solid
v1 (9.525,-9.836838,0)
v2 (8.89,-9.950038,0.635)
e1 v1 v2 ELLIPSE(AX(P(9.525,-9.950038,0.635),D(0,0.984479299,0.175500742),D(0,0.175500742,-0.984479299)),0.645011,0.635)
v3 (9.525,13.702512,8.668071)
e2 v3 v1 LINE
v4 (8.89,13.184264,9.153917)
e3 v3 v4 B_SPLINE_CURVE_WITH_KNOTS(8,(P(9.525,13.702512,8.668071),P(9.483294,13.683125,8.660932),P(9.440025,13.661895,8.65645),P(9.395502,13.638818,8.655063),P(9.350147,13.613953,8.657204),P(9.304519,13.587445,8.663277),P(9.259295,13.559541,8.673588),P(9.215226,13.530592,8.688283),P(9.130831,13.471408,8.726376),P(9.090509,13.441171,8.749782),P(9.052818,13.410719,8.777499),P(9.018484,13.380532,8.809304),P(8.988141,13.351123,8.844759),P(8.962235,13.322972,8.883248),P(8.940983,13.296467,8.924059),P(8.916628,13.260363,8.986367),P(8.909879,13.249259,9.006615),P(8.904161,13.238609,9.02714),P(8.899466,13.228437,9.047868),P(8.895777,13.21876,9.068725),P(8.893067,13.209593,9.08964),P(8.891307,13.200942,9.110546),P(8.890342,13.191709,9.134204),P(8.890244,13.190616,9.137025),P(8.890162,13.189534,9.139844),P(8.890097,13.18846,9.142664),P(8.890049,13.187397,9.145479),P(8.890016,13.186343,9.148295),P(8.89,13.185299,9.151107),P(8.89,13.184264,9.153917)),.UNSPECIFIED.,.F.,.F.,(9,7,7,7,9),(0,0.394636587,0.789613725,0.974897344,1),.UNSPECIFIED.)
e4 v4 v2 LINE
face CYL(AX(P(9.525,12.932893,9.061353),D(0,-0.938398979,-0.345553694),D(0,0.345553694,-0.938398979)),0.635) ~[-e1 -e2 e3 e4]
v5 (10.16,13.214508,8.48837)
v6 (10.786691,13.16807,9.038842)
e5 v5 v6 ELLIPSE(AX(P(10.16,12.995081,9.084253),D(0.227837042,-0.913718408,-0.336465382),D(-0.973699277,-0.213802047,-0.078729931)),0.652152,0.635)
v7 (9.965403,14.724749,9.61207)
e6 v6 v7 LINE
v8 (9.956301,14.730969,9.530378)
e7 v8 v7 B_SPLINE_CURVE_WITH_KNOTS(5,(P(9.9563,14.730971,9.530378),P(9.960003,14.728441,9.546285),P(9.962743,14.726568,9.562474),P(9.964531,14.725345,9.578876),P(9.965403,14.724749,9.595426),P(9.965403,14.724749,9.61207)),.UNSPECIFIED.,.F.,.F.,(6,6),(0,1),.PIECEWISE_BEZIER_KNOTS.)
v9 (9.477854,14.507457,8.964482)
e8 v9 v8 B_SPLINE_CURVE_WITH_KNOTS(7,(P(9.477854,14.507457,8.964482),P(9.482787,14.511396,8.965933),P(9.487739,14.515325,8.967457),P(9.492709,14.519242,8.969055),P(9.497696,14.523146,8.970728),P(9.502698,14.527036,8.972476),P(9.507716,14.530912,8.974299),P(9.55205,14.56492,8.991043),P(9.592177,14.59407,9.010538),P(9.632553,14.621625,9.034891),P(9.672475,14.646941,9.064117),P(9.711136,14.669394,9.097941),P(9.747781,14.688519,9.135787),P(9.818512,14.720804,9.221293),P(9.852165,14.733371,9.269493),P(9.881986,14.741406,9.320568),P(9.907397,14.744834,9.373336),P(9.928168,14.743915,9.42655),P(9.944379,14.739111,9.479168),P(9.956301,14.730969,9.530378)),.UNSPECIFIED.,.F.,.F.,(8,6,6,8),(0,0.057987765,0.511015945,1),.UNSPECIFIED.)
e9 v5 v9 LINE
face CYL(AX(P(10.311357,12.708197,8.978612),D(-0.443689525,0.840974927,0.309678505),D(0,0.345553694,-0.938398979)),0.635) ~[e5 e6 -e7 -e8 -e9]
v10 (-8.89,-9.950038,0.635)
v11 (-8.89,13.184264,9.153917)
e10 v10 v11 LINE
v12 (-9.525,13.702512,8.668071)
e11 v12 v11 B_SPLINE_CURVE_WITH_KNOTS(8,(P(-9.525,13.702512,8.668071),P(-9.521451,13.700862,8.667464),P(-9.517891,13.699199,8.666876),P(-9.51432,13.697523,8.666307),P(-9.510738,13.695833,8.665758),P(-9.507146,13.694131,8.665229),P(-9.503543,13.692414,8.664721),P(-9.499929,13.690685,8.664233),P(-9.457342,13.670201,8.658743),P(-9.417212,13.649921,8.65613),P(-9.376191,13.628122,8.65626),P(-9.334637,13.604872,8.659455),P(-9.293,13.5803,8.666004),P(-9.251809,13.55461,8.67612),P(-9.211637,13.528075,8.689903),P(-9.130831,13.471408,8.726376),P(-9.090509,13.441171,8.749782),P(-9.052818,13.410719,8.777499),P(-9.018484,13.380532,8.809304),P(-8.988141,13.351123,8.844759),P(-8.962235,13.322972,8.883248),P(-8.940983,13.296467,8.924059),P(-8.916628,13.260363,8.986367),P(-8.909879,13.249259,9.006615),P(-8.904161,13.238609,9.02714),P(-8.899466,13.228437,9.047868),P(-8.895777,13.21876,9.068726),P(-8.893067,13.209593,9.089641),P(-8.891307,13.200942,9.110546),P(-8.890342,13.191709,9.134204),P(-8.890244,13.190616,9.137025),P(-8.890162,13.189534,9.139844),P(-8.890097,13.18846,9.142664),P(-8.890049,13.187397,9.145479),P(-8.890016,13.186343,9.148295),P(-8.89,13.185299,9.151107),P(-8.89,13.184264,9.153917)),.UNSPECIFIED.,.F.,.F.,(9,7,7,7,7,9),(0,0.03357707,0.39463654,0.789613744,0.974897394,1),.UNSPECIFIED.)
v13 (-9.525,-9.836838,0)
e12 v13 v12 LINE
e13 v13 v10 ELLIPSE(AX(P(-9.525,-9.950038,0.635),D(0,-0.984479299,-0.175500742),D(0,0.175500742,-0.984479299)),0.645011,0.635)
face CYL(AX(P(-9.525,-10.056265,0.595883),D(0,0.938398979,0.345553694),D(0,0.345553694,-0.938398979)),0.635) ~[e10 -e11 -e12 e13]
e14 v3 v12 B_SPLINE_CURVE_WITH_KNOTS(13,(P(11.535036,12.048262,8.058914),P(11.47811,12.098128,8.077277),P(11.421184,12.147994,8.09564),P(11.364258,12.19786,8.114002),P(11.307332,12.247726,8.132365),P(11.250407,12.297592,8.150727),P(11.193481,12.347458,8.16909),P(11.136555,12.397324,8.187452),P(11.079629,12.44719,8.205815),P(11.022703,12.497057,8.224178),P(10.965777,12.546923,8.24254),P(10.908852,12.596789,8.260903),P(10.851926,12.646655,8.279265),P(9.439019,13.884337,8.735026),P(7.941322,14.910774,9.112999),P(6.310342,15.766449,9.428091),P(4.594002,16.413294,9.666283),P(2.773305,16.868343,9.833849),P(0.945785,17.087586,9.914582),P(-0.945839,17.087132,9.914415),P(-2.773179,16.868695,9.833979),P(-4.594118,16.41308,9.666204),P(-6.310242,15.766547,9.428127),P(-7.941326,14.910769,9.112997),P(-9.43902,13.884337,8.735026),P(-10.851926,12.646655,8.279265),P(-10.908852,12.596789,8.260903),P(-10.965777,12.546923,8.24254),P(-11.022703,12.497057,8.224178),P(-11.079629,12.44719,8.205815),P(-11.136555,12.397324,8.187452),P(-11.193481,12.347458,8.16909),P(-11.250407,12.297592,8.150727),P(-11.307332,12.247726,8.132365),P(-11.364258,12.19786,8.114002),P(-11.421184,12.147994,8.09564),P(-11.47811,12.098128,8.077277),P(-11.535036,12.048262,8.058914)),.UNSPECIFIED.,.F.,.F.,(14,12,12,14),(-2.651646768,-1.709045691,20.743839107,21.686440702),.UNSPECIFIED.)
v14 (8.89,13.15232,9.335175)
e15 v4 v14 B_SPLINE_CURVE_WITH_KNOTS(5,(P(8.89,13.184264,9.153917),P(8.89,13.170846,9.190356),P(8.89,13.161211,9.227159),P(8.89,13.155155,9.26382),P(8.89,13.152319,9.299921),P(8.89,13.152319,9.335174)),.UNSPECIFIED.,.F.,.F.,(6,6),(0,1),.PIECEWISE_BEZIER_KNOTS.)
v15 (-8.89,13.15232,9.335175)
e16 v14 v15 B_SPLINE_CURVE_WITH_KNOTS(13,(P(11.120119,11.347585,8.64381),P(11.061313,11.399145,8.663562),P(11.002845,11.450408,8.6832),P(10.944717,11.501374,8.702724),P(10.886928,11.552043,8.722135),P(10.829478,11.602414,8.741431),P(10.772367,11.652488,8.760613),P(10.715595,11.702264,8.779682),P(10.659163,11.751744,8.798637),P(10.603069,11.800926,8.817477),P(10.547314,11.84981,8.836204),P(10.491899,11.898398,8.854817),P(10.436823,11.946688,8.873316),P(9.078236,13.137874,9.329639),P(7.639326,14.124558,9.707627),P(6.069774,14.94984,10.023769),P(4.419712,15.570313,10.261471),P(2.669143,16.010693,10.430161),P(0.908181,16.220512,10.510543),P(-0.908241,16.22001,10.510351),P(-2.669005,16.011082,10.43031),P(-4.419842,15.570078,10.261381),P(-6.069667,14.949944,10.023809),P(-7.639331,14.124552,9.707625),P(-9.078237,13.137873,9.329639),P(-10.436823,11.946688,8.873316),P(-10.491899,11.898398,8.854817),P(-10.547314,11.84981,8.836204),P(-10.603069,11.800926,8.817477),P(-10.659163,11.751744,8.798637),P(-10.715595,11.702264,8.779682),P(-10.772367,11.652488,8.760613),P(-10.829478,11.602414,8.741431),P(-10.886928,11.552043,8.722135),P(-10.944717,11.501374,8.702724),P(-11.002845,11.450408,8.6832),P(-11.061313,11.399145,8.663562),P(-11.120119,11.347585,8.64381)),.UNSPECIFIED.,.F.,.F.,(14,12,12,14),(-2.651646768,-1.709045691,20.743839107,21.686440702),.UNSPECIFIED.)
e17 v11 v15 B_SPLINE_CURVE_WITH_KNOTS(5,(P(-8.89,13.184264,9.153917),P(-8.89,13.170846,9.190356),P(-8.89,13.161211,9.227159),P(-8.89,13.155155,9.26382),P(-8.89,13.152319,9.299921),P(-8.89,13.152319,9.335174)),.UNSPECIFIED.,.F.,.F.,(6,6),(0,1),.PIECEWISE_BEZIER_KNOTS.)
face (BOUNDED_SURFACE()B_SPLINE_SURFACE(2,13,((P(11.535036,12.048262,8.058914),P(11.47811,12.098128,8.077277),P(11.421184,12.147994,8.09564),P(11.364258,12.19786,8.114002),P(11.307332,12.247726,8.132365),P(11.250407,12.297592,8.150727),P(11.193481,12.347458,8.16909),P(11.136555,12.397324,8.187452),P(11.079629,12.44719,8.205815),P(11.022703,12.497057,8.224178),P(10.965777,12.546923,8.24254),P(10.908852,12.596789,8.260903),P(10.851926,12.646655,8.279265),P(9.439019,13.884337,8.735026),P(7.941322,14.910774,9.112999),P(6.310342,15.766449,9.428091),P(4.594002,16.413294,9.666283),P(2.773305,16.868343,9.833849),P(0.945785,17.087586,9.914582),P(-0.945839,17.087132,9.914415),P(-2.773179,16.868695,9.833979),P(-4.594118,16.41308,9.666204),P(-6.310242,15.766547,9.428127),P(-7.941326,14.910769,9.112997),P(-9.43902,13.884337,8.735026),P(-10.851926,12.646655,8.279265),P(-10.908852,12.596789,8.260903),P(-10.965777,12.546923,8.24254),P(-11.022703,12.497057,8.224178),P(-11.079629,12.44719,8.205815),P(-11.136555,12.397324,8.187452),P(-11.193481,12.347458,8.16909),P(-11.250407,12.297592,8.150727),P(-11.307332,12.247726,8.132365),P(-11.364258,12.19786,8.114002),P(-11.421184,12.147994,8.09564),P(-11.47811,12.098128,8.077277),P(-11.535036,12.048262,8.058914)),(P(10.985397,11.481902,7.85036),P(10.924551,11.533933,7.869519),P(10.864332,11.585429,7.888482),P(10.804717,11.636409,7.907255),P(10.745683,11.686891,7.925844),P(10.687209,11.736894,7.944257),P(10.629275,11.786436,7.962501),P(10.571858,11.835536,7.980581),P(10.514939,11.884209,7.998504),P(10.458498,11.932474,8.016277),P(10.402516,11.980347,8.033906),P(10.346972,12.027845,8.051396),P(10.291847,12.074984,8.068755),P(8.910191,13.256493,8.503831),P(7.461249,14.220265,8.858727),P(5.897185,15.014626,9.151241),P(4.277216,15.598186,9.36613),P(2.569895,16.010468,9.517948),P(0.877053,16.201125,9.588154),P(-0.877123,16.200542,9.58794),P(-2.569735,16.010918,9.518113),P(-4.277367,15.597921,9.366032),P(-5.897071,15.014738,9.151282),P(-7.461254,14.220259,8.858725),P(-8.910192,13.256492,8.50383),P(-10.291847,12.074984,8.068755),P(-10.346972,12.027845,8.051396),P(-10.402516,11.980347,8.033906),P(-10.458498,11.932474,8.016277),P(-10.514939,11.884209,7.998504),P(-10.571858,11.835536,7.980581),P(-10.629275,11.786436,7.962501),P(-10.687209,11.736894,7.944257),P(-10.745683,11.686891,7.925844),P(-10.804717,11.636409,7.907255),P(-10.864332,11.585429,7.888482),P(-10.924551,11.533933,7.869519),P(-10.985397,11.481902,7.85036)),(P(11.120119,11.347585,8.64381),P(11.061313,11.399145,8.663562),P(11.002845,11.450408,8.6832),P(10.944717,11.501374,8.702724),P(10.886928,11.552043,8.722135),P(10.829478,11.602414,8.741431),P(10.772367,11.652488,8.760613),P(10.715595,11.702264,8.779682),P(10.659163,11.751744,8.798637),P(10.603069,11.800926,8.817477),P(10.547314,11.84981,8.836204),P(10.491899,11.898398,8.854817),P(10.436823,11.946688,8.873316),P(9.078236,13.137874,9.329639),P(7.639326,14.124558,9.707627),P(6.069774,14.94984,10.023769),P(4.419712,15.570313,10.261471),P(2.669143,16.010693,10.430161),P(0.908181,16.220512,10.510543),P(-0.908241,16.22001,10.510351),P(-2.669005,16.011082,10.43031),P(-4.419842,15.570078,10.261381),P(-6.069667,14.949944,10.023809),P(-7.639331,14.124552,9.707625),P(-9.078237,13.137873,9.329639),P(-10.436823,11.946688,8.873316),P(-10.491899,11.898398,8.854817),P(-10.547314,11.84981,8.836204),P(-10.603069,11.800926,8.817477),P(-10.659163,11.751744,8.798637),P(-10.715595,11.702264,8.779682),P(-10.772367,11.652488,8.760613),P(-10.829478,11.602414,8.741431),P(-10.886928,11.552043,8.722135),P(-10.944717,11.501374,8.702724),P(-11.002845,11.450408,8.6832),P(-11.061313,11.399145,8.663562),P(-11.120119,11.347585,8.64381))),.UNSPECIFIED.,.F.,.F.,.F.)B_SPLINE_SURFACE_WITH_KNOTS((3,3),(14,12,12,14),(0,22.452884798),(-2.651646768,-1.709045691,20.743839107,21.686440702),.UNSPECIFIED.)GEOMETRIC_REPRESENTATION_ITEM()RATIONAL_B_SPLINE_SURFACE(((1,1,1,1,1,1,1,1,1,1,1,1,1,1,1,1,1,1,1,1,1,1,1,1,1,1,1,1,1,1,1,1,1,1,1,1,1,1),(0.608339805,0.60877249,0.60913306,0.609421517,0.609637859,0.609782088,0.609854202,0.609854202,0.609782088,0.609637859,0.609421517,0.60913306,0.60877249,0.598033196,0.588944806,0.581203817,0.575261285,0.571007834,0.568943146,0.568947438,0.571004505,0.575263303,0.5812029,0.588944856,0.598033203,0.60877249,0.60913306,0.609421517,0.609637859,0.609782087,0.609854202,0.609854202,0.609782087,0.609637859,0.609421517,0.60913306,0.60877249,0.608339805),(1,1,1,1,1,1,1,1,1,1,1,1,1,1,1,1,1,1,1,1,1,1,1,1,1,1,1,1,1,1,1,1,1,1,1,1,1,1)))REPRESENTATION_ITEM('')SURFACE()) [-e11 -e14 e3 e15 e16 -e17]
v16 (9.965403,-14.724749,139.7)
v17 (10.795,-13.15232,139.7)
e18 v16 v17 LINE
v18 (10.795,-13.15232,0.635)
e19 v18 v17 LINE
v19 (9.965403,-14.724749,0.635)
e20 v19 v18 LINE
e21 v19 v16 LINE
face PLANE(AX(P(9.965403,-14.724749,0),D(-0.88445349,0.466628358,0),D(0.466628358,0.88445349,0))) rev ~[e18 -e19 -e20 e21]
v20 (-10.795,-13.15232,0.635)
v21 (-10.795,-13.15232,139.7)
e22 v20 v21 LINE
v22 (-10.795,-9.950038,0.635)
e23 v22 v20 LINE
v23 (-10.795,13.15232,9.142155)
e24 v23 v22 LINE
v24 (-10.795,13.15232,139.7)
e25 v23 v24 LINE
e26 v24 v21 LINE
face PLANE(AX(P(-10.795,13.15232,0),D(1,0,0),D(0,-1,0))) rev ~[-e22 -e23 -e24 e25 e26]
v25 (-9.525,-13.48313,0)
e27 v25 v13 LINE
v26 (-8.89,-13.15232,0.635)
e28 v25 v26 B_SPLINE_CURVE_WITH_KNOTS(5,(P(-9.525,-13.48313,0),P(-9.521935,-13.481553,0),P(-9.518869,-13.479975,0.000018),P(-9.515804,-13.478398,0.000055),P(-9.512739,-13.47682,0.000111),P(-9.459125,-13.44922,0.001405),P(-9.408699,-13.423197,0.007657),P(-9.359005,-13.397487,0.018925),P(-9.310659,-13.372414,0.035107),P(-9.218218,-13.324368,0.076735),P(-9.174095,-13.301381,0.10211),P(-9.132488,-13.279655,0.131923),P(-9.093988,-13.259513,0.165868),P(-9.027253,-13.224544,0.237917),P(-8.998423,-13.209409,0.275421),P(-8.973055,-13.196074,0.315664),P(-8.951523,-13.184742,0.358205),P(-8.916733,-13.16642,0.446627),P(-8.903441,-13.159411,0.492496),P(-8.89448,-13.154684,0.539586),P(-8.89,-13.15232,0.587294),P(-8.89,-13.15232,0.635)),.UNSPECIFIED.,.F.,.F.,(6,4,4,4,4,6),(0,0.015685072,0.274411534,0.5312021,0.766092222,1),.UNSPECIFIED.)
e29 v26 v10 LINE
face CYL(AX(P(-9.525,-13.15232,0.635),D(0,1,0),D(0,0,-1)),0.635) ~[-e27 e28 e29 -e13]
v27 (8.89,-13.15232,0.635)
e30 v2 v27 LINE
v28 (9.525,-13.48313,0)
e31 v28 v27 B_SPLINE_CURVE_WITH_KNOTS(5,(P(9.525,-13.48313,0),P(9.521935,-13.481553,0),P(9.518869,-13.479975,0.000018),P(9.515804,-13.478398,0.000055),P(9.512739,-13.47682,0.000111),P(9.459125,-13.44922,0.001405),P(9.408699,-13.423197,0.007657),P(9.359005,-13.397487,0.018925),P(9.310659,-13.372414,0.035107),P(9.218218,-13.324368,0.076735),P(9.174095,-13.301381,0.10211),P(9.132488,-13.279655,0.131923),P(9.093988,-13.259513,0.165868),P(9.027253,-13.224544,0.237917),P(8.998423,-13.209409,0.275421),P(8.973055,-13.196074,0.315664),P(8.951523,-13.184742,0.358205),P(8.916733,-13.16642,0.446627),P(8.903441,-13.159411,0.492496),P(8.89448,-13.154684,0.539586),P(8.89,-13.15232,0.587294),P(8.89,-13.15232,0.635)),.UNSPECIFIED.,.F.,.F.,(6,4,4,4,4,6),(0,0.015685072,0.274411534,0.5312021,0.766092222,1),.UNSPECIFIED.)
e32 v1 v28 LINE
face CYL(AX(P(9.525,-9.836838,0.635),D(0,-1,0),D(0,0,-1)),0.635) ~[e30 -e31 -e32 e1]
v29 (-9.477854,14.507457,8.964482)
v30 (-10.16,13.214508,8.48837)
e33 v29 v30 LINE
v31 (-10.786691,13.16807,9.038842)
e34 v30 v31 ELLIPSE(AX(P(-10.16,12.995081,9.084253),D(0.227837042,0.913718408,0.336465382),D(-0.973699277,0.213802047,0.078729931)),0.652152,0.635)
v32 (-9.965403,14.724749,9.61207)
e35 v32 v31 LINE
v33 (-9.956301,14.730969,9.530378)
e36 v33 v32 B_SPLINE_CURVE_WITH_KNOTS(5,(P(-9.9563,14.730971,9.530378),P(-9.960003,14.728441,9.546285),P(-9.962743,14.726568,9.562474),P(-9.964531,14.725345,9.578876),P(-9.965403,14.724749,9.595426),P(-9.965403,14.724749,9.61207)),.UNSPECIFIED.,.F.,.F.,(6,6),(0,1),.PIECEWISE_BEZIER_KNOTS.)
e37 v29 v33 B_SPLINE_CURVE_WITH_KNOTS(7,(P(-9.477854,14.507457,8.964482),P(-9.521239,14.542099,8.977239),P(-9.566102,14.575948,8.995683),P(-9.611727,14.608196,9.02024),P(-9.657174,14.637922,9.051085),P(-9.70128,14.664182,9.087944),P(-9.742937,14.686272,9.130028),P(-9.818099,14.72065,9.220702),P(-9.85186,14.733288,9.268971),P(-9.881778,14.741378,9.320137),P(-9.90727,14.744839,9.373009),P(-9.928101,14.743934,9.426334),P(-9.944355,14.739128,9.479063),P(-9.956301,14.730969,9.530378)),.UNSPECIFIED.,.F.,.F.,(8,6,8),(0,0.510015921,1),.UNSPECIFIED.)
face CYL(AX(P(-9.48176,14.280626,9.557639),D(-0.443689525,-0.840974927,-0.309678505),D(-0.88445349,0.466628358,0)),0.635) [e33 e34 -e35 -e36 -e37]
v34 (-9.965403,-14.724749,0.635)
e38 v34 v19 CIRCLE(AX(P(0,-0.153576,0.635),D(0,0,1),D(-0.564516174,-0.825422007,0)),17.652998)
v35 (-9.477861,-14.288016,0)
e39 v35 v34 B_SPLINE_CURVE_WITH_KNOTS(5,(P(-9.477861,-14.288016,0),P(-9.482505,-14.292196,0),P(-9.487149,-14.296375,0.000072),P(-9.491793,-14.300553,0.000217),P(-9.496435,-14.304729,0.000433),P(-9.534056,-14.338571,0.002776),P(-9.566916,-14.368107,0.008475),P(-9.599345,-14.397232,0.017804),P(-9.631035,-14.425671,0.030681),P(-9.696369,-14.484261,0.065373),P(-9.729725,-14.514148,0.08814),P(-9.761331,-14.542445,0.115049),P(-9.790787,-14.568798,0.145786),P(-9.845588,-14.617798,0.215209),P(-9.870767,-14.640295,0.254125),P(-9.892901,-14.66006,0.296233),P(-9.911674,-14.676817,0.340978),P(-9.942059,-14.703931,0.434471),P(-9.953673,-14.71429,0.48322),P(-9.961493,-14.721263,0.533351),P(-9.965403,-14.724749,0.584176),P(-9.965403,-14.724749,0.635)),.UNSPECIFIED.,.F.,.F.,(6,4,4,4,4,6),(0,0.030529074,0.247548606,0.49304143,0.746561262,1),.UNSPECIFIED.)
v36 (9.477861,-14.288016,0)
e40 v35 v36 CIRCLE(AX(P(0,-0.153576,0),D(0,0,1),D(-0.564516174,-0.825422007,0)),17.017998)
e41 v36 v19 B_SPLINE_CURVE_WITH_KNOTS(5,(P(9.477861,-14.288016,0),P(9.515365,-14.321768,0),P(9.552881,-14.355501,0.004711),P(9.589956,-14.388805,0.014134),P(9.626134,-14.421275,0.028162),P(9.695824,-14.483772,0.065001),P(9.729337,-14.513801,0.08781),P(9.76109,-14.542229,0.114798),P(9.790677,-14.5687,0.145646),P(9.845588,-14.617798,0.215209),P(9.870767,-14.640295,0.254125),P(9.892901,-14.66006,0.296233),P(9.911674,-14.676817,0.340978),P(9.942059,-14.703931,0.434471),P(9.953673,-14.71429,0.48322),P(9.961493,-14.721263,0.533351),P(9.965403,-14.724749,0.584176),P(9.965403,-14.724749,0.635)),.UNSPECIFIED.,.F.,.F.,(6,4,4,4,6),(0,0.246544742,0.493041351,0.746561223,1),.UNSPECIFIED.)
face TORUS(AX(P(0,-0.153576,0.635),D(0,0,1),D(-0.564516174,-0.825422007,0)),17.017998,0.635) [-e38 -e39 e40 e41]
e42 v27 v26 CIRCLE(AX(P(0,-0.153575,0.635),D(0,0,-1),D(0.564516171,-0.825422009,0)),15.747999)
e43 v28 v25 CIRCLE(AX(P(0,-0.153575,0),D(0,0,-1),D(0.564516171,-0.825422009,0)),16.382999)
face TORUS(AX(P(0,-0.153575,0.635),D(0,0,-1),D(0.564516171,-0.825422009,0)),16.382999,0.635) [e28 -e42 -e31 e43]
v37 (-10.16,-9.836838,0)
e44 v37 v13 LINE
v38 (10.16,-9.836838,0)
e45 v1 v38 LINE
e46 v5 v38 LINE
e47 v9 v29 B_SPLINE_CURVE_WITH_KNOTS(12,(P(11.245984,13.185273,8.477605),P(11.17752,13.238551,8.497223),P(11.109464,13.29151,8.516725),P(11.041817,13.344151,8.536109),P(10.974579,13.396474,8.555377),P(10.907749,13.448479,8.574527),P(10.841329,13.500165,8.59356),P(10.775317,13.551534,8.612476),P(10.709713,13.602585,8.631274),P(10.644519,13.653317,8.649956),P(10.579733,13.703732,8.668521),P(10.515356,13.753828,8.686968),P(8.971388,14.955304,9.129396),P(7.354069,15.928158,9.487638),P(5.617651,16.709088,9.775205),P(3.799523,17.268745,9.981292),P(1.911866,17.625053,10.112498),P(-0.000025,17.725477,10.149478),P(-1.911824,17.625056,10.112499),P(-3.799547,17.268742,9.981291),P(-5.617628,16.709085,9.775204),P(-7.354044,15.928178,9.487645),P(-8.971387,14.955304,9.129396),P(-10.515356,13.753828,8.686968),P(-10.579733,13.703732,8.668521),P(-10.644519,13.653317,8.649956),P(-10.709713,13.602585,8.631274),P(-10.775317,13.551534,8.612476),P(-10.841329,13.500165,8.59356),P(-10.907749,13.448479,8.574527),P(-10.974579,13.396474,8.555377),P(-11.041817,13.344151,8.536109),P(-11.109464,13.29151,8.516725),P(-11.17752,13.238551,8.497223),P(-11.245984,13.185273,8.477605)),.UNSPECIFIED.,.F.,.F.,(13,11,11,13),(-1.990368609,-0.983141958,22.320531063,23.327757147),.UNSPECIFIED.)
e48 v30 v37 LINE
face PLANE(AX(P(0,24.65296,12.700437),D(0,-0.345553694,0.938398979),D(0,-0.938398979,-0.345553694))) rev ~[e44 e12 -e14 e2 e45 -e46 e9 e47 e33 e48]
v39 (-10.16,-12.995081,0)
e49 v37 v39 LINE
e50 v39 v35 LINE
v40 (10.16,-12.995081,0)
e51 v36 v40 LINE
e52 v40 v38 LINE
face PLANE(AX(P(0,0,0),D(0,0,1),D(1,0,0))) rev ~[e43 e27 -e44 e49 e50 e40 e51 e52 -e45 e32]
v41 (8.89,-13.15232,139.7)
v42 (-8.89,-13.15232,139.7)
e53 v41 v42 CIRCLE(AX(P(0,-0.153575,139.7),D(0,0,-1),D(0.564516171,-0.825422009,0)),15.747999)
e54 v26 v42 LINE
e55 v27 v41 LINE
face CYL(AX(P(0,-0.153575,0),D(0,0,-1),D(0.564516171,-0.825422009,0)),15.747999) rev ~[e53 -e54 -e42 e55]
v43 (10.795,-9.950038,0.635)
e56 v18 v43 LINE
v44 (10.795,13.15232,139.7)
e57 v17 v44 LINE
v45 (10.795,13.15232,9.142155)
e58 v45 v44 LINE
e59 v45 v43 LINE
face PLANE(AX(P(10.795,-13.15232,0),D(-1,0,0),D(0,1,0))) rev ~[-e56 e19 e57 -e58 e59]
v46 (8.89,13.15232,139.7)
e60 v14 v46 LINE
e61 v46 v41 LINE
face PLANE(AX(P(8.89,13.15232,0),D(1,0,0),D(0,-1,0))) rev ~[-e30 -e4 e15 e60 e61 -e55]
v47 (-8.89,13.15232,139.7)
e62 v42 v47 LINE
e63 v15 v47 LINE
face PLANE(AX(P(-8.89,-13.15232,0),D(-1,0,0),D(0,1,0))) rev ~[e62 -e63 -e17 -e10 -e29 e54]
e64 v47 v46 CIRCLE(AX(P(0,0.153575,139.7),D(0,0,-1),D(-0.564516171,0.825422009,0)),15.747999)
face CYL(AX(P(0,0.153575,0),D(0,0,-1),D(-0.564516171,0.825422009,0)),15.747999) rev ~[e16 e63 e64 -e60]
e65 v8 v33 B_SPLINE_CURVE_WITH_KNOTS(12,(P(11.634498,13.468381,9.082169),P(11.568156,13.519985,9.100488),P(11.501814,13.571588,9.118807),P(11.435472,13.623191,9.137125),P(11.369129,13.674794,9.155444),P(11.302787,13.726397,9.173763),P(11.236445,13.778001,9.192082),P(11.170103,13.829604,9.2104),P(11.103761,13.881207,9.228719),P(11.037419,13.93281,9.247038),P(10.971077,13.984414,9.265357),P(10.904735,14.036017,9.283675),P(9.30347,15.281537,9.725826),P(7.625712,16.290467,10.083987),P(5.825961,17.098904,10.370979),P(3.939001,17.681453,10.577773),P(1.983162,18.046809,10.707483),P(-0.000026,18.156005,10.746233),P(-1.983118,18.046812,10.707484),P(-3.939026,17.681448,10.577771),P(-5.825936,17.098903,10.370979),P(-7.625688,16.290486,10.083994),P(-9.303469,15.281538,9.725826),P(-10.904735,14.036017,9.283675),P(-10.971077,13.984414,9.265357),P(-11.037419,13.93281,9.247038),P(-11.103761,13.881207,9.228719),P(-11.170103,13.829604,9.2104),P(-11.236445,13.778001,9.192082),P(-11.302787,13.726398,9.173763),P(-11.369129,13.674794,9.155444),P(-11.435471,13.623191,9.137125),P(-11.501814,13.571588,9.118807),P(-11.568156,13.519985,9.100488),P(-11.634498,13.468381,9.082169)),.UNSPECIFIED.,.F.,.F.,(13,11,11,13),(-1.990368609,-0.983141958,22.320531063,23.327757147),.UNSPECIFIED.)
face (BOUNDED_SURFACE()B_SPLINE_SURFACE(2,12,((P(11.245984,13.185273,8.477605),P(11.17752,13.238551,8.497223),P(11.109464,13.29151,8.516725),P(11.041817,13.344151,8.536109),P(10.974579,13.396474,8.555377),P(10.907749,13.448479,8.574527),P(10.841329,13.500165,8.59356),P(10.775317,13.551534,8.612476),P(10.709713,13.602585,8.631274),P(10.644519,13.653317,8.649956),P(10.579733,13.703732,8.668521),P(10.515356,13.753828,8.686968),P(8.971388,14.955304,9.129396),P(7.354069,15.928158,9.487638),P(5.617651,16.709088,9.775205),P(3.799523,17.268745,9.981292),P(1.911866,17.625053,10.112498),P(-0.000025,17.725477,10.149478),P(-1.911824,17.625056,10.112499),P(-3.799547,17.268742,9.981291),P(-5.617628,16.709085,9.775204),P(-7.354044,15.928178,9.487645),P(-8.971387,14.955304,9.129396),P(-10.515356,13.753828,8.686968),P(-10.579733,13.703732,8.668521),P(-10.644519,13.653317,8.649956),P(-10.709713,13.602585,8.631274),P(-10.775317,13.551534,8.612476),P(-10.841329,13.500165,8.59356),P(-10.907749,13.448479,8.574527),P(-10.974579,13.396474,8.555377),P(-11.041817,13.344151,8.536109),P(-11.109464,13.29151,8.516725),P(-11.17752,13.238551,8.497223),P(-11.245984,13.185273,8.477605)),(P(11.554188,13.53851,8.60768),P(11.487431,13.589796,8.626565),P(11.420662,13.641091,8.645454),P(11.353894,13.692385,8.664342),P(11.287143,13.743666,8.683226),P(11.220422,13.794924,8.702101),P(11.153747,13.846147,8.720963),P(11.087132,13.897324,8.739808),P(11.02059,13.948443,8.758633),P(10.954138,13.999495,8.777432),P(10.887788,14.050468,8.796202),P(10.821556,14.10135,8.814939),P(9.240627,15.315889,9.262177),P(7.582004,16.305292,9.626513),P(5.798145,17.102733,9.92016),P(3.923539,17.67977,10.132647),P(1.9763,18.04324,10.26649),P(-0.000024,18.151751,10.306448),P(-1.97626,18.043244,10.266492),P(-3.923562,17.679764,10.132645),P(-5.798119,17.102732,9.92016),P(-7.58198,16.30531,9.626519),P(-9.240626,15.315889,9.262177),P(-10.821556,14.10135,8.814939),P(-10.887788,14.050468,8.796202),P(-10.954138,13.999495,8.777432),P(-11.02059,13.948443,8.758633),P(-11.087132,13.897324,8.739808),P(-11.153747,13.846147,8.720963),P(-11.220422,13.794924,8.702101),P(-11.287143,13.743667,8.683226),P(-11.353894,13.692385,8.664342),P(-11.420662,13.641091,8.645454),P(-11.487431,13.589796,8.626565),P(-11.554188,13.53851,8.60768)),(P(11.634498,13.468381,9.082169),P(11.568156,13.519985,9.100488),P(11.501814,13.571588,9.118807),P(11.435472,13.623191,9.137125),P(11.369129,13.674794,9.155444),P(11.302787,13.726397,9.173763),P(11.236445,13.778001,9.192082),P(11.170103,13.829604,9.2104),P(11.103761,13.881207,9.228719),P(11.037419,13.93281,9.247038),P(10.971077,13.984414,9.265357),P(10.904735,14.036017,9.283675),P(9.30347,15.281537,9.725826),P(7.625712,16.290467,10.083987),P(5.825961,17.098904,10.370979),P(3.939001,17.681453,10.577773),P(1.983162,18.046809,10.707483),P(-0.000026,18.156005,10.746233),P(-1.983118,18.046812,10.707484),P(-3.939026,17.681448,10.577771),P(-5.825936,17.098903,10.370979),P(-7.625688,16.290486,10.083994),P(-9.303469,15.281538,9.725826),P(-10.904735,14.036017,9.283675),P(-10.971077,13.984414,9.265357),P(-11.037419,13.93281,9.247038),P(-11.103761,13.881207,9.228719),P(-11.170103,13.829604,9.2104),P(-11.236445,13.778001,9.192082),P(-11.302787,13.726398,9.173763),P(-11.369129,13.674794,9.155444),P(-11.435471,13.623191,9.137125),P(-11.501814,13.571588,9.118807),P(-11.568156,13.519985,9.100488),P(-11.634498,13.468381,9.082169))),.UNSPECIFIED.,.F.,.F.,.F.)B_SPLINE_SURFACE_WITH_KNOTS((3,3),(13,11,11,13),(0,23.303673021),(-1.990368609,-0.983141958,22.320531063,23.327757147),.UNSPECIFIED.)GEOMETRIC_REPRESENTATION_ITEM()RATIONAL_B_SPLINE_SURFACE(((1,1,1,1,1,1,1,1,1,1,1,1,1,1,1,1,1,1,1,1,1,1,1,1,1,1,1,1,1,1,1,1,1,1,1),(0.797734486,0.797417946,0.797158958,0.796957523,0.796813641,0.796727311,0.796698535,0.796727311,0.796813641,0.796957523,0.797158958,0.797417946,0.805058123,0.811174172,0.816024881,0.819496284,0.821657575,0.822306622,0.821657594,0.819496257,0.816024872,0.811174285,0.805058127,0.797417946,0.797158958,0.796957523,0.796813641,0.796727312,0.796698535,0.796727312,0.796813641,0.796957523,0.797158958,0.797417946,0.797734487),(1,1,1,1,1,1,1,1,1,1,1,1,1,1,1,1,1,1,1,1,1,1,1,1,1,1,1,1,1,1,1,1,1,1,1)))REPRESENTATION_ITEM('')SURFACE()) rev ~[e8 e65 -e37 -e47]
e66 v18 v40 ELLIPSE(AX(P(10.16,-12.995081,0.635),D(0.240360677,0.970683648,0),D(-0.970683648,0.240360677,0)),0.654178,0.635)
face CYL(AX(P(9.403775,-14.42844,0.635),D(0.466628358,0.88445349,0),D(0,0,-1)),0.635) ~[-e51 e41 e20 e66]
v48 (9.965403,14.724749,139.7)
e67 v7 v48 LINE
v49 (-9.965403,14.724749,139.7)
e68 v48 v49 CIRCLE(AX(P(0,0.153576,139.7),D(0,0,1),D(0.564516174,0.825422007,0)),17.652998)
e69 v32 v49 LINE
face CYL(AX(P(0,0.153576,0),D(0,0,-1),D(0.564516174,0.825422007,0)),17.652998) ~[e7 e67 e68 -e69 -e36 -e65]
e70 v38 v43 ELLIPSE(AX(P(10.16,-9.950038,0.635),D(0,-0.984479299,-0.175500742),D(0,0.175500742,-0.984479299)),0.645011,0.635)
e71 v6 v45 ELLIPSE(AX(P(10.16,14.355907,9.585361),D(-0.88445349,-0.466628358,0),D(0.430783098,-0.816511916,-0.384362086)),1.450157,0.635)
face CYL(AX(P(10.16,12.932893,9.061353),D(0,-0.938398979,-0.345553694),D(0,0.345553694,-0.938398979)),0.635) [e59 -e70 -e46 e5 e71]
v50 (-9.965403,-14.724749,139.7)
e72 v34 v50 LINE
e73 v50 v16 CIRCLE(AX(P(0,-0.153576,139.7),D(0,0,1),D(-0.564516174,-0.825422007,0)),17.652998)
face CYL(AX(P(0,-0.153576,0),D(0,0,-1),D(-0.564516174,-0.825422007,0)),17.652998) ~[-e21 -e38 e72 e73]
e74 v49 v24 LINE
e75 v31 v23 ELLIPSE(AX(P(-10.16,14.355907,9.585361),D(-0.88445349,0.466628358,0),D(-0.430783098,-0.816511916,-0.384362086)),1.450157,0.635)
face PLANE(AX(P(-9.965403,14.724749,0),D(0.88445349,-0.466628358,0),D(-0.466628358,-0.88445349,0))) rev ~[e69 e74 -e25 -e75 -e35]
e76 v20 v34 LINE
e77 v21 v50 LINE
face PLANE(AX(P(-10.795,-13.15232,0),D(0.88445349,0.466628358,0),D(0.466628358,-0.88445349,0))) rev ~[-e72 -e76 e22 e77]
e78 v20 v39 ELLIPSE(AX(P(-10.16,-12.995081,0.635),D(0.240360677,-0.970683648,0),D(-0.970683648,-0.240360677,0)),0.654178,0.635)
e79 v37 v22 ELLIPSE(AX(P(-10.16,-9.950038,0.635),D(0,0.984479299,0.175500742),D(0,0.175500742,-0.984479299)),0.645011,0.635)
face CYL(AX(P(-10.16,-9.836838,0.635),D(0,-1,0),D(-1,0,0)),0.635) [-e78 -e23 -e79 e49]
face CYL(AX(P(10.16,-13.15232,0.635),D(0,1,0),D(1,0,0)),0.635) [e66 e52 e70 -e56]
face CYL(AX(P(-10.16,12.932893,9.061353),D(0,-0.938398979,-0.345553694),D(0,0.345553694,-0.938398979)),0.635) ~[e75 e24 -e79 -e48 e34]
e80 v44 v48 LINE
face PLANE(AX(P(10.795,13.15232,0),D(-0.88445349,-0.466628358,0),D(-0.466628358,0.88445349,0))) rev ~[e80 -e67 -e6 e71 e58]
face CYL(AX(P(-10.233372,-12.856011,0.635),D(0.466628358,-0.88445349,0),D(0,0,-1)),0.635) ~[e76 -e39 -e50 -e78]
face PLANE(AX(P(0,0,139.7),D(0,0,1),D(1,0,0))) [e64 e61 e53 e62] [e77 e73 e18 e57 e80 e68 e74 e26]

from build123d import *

# Parameters (mm, degrees)
F1_DEPTH = 139.7
F3_DEPTH = 10.795
F4_R     = 0.635


with BuildPart() as f1:
    # F0 (on Top) → F1 (new body)
    with BuildSketch(Plane.XY):
        with BuildLine():
            Line((-9.965403, 14.724749), (-10.795, 13.15232))
            Line((-10.795, 13.15232), (-10.795, -13.15232))
            Line((-10.795, -13.15232), (-9.965403, -14.724749))
            ThreePointArc((-9.965403, -14.724749), (0, -17.806574), (9.965403, -14.724749))
            Line((9.965403, -14.724749), (10.795, -13.15232))
            Line((10.795, -13.15232), (10.795, 13.15232))
            Line((10.795, 13.15232), (9.965403, 14.724749))
            ThreePointArc((9.965403, 14.724749), (0, 17.806574), (-9.965403, 14.724749))
        make_face()
        with BuildLine():
            Line((-8.89, -13.15232), (-8.89, 13.15232))
            ThreePointArc((-8.89, 13.15232), (0, 15.901574), (8.89, 13.15232))
            Line((8.89, 13.15232), (8.89, -13.15232))
            ThreePointArc((8.89, -13.15232), (0, -15.901574), (-8.89, -13.15232))
        make_face(mode=Mode.SUBTRACT)
    extrude(amount=F1_DEPTH)

    # F2 (on Right) → F3 (cut, symmetric)
    with BuildSketch(Plane.YZ):
        Polygon((24.65296, 12.700437), (-9.836838, 0), (0, 0), (24.65296, 0), align=None)
    extrude(amount=F3_DEPTH, both=True, mode=Mode.SUBTRACT)

    # F4
    f4_edges = [f1.edges().sort_by_distance(p)[0] for p in [
        (10.795, 1.657741, 4.232735),
        (0, 17.806574, 10.179341),
        (0, 15.901574, 9.477848),
        (8.89, 1.657741, 4.232735),
        (-10.795, 1.657741, 4.232735),
        (10.380202, 13.938535, 8.754984),
        (-10.380202, 13.938535, 8.754984),
        (-10.795, -11.494579, 0),
        (-10.380202, -13.938535, 0),
        (0, -17.806574, 0),
        (0, -15.901574, 0),
        (8.89, -11.494579, 0),
        (10.795, -11.494579, 0),
        (10.380202, -13.938535, 0),
        (-8.89, -11.494579, 0),
        (-8.89, 1.657741, 4.232735),
    ]]
    fillet(f4_edges, radius=F4_R)


solid = f1.part
